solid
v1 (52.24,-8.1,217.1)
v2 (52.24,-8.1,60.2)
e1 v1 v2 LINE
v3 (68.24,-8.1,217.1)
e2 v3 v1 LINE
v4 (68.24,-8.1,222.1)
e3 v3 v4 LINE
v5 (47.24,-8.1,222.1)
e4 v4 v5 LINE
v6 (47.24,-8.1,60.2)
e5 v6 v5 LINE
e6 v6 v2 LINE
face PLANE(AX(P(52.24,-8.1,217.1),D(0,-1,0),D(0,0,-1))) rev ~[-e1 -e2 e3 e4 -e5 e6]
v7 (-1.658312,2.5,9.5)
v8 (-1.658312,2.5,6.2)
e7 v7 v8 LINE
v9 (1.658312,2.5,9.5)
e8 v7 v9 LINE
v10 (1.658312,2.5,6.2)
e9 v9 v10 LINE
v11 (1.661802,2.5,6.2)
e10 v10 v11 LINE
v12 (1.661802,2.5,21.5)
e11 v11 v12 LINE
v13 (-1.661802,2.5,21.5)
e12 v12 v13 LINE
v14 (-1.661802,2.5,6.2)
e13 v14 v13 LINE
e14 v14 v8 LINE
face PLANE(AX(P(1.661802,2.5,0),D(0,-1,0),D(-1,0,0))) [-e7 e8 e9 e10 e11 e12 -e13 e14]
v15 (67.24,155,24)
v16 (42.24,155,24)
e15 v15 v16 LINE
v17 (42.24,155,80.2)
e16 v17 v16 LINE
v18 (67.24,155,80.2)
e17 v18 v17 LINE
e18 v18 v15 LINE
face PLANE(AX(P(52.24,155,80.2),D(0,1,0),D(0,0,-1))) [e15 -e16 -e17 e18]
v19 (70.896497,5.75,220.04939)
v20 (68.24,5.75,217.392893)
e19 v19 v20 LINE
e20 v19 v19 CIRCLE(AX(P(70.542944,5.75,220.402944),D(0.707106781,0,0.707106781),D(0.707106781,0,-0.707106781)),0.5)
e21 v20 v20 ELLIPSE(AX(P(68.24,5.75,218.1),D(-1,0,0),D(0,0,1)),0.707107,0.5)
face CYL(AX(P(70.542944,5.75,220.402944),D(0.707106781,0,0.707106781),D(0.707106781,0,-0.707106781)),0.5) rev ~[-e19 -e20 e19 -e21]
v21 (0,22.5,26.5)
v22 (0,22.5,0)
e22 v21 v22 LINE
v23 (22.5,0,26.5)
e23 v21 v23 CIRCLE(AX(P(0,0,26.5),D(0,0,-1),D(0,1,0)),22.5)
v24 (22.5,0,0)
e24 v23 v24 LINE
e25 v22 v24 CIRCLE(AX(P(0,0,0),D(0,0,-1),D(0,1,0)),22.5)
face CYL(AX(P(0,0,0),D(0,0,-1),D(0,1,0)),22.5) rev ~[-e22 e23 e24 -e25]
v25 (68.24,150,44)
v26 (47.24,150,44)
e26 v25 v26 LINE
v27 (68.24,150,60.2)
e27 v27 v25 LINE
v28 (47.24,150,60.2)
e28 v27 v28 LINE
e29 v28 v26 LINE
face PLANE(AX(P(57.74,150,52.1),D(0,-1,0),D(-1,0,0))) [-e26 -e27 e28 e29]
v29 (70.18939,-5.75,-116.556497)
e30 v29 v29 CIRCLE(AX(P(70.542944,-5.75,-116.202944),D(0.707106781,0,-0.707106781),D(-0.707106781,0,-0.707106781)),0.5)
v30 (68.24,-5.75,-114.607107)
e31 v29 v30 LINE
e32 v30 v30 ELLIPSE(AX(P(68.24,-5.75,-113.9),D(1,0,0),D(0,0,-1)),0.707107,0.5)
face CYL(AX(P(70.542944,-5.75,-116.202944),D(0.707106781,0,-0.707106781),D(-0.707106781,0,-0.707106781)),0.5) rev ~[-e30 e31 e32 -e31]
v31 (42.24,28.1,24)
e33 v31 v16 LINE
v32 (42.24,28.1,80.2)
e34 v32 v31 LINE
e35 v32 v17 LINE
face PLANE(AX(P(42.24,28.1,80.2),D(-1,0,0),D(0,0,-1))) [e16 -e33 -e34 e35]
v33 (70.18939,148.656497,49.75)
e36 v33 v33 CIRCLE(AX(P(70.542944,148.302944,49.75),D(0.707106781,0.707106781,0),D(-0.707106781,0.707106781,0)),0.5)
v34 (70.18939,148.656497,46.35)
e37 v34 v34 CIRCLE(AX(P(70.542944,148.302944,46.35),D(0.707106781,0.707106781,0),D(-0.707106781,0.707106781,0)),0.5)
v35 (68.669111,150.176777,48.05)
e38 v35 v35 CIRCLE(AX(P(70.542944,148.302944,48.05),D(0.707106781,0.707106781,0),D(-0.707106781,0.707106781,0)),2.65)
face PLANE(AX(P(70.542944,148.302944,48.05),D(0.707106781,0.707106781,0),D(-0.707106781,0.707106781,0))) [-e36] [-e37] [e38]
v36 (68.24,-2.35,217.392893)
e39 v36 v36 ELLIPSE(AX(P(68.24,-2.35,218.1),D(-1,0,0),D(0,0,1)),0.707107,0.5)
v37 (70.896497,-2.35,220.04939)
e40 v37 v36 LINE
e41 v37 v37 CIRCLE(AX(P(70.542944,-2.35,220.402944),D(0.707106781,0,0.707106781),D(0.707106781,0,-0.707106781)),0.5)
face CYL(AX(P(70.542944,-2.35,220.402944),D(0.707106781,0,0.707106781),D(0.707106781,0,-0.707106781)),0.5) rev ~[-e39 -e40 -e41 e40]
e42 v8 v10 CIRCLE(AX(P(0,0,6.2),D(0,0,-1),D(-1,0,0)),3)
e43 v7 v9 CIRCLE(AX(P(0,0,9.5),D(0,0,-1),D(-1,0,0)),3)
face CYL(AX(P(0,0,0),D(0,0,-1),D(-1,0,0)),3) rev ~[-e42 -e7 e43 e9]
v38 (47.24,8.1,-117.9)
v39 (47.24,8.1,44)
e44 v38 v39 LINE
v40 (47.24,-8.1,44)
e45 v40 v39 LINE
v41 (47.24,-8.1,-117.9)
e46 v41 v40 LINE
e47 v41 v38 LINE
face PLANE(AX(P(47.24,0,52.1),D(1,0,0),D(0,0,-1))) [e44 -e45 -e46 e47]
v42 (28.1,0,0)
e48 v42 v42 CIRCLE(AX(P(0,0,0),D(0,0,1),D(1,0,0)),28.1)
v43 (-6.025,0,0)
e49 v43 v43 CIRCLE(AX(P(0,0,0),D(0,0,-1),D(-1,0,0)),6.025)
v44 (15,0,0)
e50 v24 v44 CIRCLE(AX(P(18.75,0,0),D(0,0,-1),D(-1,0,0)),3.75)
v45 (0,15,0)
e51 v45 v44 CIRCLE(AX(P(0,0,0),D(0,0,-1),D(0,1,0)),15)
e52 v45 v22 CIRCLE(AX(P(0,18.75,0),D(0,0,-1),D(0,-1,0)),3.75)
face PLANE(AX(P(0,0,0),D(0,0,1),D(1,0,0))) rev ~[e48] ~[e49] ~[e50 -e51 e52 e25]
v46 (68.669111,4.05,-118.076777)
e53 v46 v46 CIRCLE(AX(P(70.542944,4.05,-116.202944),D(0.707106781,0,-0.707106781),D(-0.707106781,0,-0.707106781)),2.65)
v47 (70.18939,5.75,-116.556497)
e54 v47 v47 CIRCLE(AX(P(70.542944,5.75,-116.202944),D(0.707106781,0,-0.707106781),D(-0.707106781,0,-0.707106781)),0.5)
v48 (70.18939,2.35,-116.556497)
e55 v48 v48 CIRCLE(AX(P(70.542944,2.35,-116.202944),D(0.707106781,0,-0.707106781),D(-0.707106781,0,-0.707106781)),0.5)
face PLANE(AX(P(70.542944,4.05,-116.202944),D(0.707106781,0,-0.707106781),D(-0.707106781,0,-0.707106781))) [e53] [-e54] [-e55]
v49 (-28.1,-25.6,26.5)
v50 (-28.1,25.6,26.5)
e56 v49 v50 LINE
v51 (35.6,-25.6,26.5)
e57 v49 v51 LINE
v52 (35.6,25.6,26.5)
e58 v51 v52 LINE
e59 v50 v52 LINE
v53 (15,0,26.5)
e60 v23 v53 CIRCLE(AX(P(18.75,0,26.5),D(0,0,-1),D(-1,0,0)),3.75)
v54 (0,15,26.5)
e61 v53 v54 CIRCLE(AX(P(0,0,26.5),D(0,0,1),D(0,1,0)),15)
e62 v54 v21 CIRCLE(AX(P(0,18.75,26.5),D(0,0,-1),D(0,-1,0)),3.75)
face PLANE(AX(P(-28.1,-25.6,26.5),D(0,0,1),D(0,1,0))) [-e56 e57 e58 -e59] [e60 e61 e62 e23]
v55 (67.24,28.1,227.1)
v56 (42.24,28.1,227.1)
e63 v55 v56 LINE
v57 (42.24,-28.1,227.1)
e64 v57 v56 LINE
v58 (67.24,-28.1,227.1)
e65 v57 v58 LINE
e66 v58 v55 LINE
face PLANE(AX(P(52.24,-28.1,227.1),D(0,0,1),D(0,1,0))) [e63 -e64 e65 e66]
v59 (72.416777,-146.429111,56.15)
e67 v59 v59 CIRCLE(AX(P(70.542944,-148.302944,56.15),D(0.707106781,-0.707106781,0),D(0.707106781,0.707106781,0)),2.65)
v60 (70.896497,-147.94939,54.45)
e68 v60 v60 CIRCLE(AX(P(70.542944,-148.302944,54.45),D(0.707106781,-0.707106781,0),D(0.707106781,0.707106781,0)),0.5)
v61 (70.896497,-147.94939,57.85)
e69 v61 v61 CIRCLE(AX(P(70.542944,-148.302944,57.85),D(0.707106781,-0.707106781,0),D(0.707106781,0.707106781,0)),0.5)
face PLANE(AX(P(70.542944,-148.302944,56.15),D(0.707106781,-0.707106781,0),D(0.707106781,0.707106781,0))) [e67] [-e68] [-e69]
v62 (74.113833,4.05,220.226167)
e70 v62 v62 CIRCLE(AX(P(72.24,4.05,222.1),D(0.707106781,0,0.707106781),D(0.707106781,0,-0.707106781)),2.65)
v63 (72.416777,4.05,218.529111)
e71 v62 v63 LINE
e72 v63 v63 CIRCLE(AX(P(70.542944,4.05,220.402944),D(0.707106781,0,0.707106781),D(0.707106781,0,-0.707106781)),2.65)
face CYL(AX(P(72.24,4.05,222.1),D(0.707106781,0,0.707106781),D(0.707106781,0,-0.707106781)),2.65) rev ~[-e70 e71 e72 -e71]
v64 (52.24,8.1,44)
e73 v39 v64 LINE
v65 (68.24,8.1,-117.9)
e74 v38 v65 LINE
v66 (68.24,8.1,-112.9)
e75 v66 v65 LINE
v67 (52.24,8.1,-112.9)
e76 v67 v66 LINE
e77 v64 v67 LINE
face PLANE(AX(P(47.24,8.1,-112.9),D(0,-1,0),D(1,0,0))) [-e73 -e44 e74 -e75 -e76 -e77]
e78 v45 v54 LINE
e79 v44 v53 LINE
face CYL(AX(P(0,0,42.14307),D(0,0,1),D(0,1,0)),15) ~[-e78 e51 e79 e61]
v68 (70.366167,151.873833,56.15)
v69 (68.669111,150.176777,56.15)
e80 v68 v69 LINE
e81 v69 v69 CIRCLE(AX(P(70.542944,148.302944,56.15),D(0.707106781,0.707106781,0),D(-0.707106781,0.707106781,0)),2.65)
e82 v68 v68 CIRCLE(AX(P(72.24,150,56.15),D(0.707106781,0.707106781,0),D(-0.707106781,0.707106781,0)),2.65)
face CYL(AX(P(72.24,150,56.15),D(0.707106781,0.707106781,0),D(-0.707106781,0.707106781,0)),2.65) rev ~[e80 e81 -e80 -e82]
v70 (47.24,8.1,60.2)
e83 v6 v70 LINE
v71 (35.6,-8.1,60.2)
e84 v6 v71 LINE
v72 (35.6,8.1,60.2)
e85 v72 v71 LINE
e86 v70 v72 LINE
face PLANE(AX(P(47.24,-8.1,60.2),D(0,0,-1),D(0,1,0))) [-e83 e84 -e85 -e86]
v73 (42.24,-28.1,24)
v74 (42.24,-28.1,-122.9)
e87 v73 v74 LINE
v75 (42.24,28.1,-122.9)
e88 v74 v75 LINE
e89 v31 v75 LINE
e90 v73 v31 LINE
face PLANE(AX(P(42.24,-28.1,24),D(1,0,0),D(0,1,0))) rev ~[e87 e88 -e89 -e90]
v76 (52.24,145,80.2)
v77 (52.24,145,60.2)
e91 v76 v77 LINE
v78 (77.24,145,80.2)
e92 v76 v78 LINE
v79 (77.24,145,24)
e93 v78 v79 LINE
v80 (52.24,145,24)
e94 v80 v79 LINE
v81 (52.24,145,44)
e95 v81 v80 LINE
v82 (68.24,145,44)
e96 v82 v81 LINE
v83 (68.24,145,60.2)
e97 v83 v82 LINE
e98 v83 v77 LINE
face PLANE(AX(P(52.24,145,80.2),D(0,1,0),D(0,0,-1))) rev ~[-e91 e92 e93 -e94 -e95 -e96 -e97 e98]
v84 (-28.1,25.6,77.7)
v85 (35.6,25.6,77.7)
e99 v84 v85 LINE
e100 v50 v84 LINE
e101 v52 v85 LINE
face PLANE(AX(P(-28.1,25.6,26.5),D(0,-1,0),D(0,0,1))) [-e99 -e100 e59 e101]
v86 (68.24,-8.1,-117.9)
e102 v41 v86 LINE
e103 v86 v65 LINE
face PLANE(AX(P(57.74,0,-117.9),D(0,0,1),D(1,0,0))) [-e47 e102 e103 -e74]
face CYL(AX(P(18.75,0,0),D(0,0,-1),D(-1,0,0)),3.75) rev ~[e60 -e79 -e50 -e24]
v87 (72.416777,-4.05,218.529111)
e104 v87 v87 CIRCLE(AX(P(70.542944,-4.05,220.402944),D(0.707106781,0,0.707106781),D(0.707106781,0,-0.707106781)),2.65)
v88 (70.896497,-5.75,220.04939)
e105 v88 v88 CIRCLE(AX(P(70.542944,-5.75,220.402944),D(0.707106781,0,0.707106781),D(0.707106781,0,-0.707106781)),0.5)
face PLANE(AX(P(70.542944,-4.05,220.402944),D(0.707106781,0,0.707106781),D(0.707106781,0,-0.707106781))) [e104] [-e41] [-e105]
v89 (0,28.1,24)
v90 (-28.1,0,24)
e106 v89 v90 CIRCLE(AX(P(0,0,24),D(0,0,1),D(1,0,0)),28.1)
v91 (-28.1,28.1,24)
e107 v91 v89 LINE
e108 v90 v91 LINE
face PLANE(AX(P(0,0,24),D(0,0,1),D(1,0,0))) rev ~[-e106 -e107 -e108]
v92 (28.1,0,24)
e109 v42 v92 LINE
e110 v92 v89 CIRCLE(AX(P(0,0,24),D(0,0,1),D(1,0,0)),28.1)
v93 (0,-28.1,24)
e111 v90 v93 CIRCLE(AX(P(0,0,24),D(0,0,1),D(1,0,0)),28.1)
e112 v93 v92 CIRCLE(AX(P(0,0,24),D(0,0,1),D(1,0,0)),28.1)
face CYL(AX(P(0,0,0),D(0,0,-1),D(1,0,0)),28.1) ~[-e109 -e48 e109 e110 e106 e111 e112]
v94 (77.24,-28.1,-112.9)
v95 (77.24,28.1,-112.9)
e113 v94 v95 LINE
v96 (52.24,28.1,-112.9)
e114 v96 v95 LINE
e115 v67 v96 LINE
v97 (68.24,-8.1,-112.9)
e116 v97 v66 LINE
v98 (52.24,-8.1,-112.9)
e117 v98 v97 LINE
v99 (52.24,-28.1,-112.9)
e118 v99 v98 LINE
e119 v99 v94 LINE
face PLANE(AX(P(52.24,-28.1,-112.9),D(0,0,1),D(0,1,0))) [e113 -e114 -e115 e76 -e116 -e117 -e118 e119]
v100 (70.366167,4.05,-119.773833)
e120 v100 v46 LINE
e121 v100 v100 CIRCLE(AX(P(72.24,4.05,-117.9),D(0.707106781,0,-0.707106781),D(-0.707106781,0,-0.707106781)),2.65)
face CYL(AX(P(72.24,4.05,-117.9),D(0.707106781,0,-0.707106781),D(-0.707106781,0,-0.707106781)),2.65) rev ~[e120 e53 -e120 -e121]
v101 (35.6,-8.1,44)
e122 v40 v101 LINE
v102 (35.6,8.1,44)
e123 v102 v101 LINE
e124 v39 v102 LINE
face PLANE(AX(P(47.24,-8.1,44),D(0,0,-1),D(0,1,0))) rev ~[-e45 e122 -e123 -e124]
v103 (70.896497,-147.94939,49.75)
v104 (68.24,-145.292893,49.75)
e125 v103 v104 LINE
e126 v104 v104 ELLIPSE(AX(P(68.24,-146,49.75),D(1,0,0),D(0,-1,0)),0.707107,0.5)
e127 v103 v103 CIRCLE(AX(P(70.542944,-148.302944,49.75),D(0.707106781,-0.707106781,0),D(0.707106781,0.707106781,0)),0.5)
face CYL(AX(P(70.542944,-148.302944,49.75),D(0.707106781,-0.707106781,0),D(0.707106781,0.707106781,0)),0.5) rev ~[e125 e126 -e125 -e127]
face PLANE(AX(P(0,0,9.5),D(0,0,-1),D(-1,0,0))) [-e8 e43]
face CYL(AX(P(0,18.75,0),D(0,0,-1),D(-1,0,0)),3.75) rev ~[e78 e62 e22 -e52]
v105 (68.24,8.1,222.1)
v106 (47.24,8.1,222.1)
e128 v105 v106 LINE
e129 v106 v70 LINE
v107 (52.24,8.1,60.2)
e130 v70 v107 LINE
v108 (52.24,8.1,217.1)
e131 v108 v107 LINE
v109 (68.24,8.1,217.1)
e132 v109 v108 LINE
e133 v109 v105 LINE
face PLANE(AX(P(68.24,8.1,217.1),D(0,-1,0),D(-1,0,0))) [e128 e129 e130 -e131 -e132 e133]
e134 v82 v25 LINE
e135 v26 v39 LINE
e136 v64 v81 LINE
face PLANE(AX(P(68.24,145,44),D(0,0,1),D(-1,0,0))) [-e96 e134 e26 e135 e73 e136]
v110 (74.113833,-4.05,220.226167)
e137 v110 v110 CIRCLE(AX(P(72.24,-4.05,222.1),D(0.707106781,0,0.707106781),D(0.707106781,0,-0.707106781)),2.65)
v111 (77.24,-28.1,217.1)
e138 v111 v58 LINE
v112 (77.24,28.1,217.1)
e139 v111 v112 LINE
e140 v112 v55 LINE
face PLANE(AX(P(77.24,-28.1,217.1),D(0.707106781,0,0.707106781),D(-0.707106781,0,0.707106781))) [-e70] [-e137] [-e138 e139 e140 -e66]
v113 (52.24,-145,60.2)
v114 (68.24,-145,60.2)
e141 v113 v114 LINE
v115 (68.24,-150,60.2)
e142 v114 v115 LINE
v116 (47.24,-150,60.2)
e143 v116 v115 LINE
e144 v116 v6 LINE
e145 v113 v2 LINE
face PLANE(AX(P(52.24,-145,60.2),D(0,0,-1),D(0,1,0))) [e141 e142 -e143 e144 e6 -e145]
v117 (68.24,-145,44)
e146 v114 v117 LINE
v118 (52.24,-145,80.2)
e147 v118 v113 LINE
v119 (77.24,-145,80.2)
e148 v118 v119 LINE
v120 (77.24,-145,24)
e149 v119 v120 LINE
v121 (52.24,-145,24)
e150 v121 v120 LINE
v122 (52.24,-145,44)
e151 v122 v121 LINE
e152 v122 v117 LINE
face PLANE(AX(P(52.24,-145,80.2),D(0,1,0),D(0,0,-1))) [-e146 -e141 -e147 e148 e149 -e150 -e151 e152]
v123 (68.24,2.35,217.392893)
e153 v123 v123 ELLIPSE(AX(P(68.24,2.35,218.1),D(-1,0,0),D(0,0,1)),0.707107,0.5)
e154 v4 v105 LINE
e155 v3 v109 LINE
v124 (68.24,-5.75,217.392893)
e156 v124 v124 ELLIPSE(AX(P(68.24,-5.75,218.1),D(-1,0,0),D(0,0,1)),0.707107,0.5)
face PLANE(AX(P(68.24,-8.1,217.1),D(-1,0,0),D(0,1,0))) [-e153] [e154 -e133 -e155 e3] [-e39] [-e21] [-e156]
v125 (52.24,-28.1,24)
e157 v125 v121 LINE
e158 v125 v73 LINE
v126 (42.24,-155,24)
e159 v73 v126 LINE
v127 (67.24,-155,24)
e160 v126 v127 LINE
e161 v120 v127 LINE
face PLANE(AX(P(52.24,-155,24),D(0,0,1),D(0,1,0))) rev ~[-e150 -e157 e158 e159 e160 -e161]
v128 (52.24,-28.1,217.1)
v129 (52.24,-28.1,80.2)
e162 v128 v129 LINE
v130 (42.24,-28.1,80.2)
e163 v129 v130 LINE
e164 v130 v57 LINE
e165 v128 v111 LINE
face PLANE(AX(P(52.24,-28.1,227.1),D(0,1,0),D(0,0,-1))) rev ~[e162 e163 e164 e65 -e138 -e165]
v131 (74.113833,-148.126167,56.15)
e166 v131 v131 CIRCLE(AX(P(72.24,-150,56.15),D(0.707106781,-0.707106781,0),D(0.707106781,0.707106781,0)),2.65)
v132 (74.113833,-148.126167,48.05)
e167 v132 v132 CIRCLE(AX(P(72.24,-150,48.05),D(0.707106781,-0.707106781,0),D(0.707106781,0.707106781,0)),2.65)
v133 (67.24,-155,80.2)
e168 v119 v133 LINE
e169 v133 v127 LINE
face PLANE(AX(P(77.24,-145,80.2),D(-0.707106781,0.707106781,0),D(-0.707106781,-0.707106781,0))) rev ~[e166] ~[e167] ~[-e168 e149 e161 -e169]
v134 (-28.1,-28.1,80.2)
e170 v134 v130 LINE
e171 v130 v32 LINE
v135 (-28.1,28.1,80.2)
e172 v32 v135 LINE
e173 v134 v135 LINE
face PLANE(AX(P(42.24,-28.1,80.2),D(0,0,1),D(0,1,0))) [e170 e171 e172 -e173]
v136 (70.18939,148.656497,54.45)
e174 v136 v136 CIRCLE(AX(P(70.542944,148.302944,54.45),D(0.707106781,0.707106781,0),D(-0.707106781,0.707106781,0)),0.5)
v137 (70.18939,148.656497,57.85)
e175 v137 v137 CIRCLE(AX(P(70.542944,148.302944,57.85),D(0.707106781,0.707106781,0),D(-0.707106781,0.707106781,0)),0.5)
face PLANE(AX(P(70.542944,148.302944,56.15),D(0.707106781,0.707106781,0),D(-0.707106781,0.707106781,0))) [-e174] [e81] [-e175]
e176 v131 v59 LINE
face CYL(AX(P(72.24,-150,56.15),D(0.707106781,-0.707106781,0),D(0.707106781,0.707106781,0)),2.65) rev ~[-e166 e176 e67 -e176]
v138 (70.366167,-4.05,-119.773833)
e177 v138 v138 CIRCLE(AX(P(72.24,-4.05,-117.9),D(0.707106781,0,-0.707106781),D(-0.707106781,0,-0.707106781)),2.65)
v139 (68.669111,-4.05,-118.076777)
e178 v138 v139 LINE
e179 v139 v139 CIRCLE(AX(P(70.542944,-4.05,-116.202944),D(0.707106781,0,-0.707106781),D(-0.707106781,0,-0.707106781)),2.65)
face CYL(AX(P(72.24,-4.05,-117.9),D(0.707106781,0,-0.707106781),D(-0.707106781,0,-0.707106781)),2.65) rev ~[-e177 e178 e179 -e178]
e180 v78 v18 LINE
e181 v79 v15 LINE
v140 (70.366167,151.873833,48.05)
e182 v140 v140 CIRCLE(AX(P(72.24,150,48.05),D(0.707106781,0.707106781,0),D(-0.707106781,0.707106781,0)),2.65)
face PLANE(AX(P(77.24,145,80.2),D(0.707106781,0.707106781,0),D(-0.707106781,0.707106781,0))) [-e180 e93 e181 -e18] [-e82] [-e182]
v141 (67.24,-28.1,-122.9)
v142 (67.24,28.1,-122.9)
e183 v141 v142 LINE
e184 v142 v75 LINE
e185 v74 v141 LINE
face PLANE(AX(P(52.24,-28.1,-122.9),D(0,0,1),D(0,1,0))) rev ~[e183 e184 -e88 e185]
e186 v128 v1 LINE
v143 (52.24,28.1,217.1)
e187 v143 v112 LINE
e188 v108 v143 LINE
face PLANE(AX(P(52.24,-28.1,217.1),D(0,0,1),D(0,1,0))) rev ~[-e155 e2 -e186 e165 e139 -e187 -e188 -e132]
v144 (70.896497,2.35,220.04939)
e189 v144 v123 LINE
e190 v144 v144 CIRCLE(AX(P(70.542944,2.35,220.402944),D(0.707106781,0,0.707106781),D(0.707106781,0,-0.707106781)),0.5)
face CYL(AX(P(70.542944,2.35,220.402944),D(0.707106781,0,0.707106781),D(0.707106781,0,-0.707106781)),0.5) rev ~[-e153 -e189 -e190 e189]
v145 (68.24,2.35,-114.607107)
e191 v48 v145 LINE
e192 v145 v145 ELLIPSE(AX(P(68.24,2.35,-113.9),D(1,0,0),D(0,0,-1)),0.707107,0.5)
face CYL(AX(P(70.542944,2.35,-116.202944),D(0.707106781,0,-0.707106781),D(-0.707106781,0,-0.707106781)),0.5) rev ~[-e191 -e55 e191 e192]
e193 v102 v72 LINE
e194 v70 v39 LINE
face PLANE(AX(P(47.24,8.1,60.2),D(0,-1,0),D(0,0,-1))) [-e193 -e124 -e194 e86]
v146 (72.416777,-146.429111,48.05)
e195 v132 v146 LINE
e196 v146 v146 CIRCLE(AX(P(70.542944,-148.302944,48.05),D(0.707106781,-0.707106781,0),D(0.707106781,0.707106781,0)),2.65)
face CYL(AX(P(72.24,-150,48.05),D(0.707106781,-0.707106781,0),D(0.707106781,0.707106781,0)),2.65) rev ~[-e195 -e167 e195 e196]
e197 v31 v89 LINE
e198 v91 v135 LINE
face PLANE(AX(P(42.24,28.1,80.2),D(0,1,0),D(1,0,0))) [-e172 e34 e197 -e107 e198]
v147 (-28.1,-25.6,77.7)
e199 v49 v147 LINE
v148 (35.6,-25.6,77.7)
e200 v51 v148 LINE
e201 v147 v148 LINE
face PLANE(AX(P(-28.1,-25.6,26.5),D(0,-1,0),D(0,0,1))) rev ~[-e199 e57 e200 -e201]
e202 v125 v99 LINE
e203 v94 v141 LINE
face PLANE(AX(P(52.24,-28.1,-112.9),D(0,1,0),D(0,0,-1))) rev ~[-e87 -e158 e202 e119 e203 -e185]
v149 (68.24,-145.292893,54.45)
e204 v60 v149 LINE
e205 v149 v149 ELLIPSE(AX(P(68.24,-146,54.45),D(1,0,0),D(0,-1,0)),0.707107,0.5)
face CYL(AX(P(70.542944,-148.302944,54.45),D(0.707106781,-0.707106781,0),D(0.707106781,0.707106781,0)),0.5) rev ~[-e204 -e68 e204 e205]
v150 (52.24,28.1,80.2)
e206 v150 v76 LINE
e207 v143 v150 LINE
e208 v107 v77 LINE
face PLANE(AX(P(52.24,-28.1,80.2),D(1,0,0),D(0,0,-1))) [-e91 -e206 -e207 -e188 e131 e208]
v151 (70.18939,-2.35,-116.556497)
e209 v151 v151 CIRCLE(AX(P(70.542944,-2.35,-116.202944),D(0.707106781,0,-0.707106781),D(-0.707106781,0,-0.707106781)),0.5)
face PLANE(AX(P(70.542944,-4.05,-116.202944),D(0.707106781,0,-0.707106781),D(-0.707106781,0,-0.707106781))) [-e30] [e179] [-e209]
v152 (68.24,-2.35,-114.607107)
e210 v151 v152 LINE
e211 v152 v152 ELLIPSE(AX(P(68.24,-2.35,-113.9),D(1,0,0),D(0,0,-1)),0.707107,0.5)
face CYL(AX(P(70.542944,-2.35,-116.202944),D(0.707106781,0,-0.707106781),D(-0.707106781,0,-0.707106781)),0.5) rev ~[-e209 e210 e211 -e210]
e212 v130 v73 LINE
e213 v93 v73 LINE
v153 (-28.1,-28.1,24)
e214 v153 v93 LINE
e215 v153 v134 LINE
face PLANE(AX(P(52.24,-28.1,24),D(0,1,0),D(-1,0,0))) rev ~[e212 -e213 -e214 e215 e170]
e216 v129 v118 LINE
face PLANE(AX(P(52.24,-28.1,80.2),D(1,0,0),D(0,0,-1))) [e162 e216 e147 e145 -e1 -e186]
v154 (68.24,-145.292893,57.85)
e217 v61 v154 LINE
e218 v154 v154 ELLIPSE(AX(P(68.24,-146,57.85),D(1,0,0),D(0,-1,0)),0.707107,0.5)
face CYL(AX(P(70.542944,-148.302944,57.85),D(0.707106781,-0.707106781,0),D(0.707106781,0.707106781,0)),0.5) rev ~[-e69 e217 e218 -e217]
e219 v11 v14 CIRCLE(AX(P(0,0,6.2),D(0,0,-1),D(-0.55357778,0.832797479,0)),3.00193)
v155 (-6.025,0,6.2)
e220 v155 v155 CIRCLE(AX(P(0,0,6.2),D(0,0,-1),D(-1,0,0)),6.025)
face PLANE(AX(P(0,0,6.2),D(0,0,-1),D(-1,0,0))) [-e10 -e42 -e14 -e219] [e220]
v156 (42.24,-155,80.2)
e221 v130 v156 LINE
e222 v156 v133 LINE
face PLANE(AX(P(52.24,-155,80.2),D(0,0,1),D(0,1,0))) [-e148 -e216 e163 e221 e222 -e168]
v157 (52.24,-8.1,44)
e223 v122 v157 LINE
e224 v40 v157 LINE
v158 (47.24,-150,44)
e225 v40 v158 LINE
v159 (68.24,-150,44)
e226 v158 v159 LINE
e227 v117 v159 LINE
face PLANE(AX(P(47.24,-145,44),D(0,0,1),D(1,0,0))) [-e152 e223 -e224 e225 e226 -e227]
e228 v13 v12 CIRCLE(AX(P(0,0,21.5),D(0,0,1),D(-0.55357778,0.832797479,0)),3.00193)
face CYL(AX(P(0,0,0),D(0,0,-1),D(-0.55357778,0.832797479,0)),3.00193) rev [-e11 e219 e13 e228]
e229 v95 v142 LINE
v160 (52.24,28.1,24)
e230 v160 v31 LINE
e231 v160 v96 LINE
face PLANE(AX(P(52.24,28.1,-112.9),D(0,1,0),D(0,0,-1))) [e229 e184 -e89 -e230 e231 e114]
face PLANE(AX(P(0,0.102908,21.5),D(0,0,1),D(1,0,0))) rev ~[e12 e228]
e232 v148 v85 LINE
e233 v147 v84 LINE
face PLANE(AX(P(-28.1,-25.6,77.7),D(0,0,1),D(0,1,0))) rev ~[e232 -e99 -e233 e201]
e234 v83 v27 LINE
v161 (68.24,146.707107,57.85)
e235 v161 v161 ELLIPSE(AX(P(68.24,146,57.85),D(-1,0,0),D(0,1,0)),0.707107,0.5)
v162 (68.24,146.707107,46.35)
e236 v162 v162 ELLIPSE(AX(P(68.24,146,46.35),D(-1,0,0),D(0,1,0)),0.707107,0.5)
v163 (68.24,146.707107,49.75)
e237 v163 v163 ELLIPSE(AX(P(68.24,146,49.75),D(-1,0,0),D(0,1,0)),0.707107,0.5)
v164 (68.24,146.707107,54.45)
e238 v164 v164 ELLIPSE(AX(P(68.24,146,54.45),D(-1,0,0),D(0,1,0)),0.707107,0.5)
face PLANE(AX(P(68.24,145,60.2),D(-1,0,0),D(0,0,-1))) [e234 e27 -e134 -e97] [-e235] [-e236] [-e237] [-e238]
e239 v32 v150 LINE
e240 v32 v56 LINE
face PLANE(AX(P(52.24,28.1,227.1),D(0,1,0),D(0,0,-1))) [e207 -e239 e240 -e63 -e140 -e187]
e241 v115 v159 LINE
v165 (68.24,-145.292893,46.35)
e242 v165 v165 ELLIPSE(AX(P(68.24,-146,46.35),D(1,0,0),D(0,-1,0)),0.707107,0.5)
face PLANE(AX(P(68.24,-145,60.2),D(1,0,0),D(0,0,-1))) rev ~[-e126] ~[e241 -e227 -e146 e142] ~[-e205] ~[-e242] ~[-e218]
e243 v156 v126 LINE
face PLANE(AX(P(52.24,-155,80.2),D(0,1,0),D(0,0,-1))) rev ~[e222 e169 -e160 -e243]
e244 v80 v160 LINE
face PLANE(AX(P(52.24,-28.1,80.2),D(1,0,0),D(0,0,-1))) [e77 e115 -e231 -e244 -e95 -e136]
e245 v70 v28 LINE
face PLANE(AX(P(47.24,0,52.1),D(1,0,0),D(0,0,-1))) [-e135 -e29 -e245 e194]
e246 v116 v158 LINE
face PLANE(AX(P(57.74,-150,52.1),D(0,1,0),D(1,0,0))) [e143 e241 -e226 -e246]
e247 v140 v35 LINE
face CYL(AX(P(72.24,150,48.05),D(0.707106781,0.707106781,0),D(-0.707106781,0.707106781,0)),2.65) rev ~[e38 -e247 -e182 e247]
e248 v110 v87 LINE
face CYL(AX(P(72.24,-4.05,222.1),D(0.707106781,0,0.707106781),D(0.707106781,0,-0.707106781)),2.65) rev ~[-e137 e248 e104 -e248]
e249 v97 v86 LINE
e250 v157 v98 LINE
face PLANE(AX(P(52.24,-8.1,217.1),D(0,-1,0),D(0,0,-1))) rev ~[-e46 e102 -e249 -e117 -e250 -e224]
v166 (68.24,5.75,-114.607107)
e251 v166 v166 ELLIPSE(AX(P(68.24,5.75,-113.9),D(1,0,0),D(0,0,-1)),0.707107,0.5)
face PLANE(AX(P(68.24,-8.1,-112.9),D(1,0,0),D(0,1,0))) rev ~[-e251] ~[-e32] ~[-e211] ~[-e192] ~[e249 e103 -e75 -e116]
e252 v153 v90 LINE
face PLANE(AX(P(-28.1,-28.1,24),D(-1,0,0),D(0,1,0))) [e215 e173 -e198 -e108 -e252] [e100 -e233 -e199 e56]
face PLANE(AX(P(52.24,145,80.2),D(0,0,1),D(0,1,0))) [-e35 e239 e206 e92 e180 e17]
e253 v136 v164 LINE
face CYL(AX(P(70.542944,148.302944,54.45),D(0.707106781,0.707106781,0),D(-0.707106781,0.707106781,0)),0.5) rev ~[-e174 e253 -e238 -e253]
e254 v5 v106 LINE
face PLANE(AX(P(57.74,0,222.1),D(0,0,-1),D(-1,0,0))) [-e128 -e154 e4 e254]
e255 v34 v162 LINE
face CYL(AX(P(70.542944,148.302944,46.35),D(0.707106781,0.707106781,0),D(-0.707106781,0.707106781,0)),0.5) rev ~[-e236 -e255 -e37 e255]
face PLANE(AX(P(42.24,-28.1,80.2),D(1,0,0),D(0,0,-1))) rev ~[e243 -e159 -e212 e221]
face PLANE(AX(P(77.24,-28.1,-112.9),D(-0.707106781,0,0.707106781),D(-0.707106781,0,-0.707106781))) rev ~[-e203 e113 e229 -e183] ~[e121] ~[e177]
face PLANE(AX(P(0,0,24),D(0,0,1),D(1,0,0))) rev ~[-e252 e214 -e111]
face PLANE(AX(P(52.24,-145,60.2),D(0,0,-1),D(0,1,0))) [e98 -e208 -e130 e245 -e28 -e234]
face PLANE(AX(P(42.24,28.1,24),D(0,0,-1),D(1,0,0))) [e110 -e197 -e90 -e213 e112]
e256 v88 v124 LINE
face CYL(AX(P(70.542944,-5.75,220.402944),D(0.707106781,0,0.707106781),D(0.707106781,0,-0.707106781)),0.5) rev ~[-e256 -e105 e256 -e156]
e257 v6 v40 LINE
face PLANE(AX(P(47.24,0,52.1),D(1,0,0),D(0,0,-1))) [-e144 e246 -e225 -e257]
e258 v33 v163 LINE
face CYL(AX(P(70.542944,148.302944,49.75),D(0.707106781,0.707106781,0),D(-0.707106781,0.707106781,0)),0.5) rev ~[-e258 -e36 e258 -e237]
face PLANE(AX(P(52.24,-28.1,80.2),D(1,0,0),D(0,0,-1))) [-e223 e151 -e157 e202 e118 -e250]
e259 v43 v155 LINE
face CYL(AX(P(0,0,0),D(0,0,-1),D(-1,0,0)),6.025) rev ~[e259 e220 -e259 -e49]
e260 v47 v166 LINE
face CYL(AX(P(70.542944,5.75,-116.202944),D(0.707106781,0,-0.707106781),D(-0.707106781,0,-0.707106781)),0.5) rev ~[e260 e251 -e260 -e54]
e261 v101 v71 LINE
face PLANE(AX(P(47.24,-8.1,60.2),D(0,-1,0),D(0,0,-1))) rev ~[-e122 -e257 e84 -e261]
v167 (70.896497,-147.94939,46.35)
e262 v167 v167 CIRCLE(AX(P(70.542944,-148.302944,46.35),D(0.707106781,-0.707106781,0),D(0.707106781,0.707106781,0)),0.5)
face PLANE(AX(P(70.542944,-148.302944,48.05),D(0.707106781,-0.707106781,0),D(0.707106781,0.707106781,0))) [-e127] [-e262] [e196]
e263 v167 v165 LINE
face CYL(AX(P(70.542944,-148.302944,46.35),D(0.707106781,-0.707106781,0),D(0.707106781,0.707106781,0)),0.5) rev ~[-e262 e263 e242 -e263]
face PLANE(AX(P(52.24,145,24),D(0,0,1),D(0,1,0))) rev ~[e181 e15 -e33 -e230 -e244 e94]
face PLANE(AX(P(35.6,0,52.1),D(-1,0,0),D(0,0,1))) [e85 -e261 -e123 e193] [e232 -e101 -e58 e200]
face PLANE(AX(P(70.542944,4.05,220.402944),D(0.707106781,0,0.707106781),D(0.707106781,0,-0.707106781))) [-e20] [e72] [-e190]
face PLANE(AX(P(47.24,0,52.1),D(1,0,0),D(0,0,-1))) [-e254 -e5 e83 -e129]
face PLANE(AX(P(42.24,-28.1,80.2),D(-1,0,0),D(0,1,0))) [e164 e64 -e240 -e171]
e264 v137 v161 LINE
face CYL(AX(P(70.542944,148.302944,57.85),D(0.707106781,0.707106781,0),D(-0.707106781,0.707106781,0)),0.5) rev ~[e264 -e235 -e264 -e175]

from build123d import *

# Parameters (mm, degrees)
SKETCH1_R            = 28.1
BOSS_EXTRUDE2_DEPTH  = 24
CUT_EXTRUDE2_DEPTH   = 21.5
SKETCH4_R            = 3
CUT_EXTRUDE3_DEPTH   = 9.5
SKETCH6_R            = 6.025
CUT_EXTRUDE4_DEPTH   = 6.2
SKETCH7_W            = 56.2
SKETCH7_H            = 56.2
BOSS_EXTRUDE3_DEPTH  = 56.2
SKETCH8_W            = 56.2
SKETCH8_H            = 56.2
BOSS_EXTRUDE4_DEPTH  = 14.14
SKETCH10_W           = 56.2
SKETCH10_H           = 56.2
BOSS_EXTRUDE5_DEPTH  = 10
SKETCH11_W           = 10
SKETCH11_H           = 56.2
BOSS_EXTRUDE6_DEPTH  = 146.9
SKETCH12_W           = 10
SKETCH12_H           = 56.2
BOSS_EXTRUDE7_DEPTH  = 126.9
SKETCH13_W           = 10
SKETCH13_H           = 56.2
BOSS_EXTRUDE8_DEPTH  = 146.9
SKETCH14_W           = 10
SKETCH14_H           = 56.2
BOSS_EXTRUDE9_DEPTH  = 126.9
SKETCH15_W           = 10
SKETCH15_H           = 56.2
BOSS_EXTRUDE10_DEPTH = 25
SKETCH16_W           = 10
SKETCH16_H           = 56.2
BOSS_EXTRUDE11_DEPTH = 25
SKETCH17_W           = 56.2
SKETCH17_H           = 10
BOSS_EXTRUDE12_DEPTH = 25
SKETCH18_W           = 56.2
SKETCH18_H           = 10
BOSS_EXTRUDE13_DEPTH = 25
SKETCH19_W           = 51.2
SKETCH19_H           = 51.2
CUT_EXTRUDE5_DEPTH   = 63.7
SKETCH23_W           = 330
SKETCH23_H           = 16.2
CUT_EXTRUDE7_DEPTH   = 5
SKETCH24_W           = 16.2
SKETCH24_H           = 290
CUT_EXTRUDE8_DEPTH   = 5
SKETCH25_W           = 16.2
SKETCH25_H           = 16.2
CUT_EXTRUDE12_DEPTH  = 25
CUT_EXTRUDE13_DEPTH  = 56.2
CUT_EXTRUDE14_DEPTH  = 56.2
SKETCH28_W           = 21
SKETCH28_H           = 16.2
CUT_EXTRUDE15_DEPTH  = 5
SKETCH29_W           = 21
SKETCH29_H           = 16.2
CUT_EXTRUDE16_DEPTH  = 5
SKETCH30_W           = 21
SKETCH30_H           = 16.2
CUT_EXTRUDE17_DEPTH  = 5
SKETCH31_W           = 21
SKETCH31_H           = 16.2
CUT_EXTRUDE18_DEPTH  = 5
SKETCH33_R           = 2.65
CUT_EXTRUDE19_DEPTH  = 2.4
SKETCH34_R           = 0.5
CUT_EXTRUDE20_DEPTH  = 10
SKETCH35_R           = 2.65
CUT_EXTRUDE21_DEPTH  = 2.4
SKETCH36_R           = 0.5
CUT_EXTRUDE22_DEPTH  = 10
SKETCH37_R           = 2.65
CUT_EXTRUDE23_DEPTH  = 2.4
SKETCH38_R           = 0.5
CUT_EXTRUDE24_DEPTH  = 10
SKETCH39_R           = 2.65
CUT_EXTRUDE25_DEPTH  = 2.4
SKETCH40_R           = 0.5
CUT_EXTRUDE26_DEPTH  = 10
SKETCH41_R           = 3.75
CUT_EXTRUDE28_DEPTH  = 30


with BuildPart() as part:
    # Sketch1 → Boss-Extrude2 (new body)
    with BuildSketch(Plane.XY):
        Circle(SKETCH1_R)
    extrude(amount=BOSS_EXTRUDE2_DEPTH)

    # Sketch3 → Cut-Extrude2 (cut)
    with BuildSketch(Plane(origin=(0, 0, 0), x_dir=(-1, 0, 0), z_dir=(0, 0, -1))):
        with BuildLine():
            Line((-1.661801922, 2.5), (1.661801922, 2.5))
            ThreePointArc((1.661801922, 2.5), (0, -3.001930317), (-1.661801922, 2.5))
        make_face()
    extrude(amount=-CUT_EXTRUDE2_DEPTH, mode=Mode.SUBTRACT)

    # Sketch4 → Cut-Extrude3 (cut)
    with BuildSketch(Plane(origin=(0, 0, 0), x_dir=(-1, 0, 0), z_dir=(0, 0, -1))):
        Circle(SKETCH4_R)
    extrude(amount=-CUT_EXTRUDE3_DEPTH, mode=Mode.SUBTRACT)

    # Sketch6 → Cut-Extrude4 (cut)
    with BuildSketch(Plane(origin=(0, 0, 0), x_dir=(-1, 0, 0), z_dir=(0, 0, -1))):
        Circle(SKETCH6_R)
    extrude(amount=-CUT_EXTRUDE4_DEPTH, mode=Mode.SUBTRACT)

    # Sketch7 → Boss-Extrude3 (add)
    with BuildSketch(Plane.XY.offset(24)):
        Rectangle(SKETCH7_W, SKETCH7_H)
    extrude(amount=BOSS_EXTRUDE3_DEPTH)

    # Sketch8 → Boss-Extrude4 (add)
    with BuildSketch(Plane(origin=(28.1, 0, 0), x_dir=(0, 0, -1), z_dir=(1, 0, 0))):
        with Locations((-52.1, 0)):
            Rectangle(SKETCH8_W, SKETCH8_H)
    extrude(amount=BOSS_EXTRUDE4_DEPTH)

    # Sketch10 → Boss-Extrude5 (add)
    with BuildSketch(Plane(origin=(42.24, 0, 0), x_dir=(0, 0, -1), z_dir=(1, 0, 0))):
        with Locations((-52.1, 0)):
            Rectangle(SKETCH10_W, SKETCH10_H)
    extrude(amount=BOSS_EXTRUDE5_DEPTH)

    # Sketch11 → Boss-Extrude6 (add)
    with BuildSketch(Plane.XY.offset(80.2)):
        with Locations((47.24, 0)):
            Rectangle(SKETCH11_W, SKETCH11_H)
    extrude(amount=BOSS_EXTRUDE6_DEPTH)

    # Sketch12 → Boss-Extrude7 (add)
    with BuildSketch(Plane(origin=(0, 28.1, 0), x_dir=(1, 0, 0), z_dir=(0, 1, 0))):
        with Locations((47.24, -52.1)):
            Rectangle(SKETCH12_W, SKETCH12_H)
    extrude(amount=BOSS_EXTRUDE7_DEPTH)

    # Sketch13 → Boss-Extrude8 (add)
    with BuildSketch(Plane(origin=(0, 0, 24), x_dir=(-1, 0, 0), z_dir=(0, 0, -1))):
        with Locations((-47.24, 0)):
            Rectangle(SKETCH13_W, SKETCH13_H)
    extrude(amount=BOSS_EXTRUDE8_DEPTH)

    # Sketch14 → Boss-Extrude9 (add)
    with BuildSketch(Plane(origin=(0, -28.1, 0), x_dir=(-1, 0, 0), z_dir=(0, -1, 0))):
        with Locations((-47.24, -52.1)):
            Rectangle(SKETCH14_W, SKETCH14_H)
    extrude(amount=BOSS_EXTRUDE9_DEPTH)

    # Sketch15 → Boss-Extrude10 (add)
    with BuildSketch(Plane(origin=(52.24, 0, 0), x_dir=(0, 0, -1), z_dir=(1, 0, 0))):
        with Locations((-222.1, 0)):
            Rectangle(SKETCH15_W, SKETCH15_H)
    extrude(amount=BOSS_EXTRUDE10_DEPTH)

    # Sketch16 → Boss-Extrude11 (add)
    with BuildSketch(Plane(origin=(52.24, 0, 0), x_dir=(0, 0, -1), z_dir=(1, 0, 0))):
        with Locations((117.9, 0)):
            Rectangle(SKETCH16_W, SKETCH16_H)
    extrude(amount=BOSS_EXTRUDE11_DEPTH)

    # Sketch17 → Boss-Extrude12 (add)
    with BuildSketch(Plane(origin=(52.24, 0, 0), x_dir=(0, 0, -1), z_dir=(1, 0, 0))):
        with Locations((-52.1, 150)):
            Rectangle(SKETCH17_W, SKETCH17_H)
    extrude(amount=BOSS_EXTRUDE12_DEPTH)

    # Sketch18 → Boss-Extrude13 (add)
    with BuildSketch(Plane(origin=(52.24, 0, 0), x_dir=(0, 0, -1), z_dir=(1, 0, 0))):
        with Locations((-52.1, -150)):
            Rectangle(SKETCH18_W, SKETCH18_H)
    extrude(amount=BOSS_EXTRUDE13_DEPTH)

    # Sketch19 → Cut-Extrude5 (cut)
    with BuildSketch(Plane.ZY.offset(28.1)):
        with Locations((52.1, 0)):
            Rectangle(SKETCH19_W, SKETCH19_H)
    extrude(amount=-CUT_EXTRUDE5_DEPTH, mode=Mode.SUBTRACT)

    # Cut-Sweep2: sweep along a path in Sketch20
    with BuildLine(Plane(origin=(0, 0, 0), x_dir=(-1, 0, 0), z_dir=(0, 0, -1))) as cut_sweep2_path:
        ThreePointArc((0, 15), (-10.606601718, 10.606601718), (-15, 0))
    # 3DSketch2 → Cut-Sweep2 (sweep, cut)
    with BuildSketch(Plane(origin=(0, 15, 0), x_dir=(0, 0.17521220324553322, 0.9845306921746249), z_dir=(-1, 0, 0))):
        Polygon((0, 0), (1.314091524, 7.383980191), (42.805237655, 0), (41.491146131, -7.383980191), align=None)
    sweep(path=cut_sweep2_path.line, mode=Mode.SUBTRACT)

    # Sketch23 → Cut-Extrude7 (cut)
    with BuildSketch(Plane(origin=(52.24, 0, 0), x_dir=(0, 0, -1), z_dir=(1, 0, 0))):
        with Locations((-52.1, 0)):
            Rectangle(SKETCH23_W, SKETCH23_H)
    extrude(amount=-CUT_EXTRUDE7_DEPTH, mode=Mode.SUBTRACT)

    # Sketch24 → Cut-Extrude8 (cut)
    with BuildSketch(Plane(origin=(52.24, 0, 0), x_dir=(0, 0, -1), z_dir=(1, 0, 0))):
        with Locations((-52.1, 0)):
            Rectangle(SKETCH24_W, SKETCH24_H)
    extrude(amount=-CUT_EXTRUDE8_DEPTH, mode=Mode.SUBTRACT)

    # Sketch25 → Cut-Extrude12 (cut)
    with BuildSketch(Plane(origin=(47.24, 0, 0), x_dir=(0, 0, -1), z_dir=(1, 0, 0))):
        with Locations((-52.1, 0)):
            Rectangle(SKETCH25_W, SKETCH25_H)
    extrude(amount=-CUT_EXTRUDE12_DEPTH, mode=Mode.SUBTRACT)

    # Sketch26 → Cut-Extrude13 (cut)
    with BuildSketch(Plane(origin=(0, -28.1, 0), x_dir=(-1, 0, 0), z_dir=(0, -1, 0))):
        Polygon((-77.24, -217.1), (-67.24, -227.1), (-77.24, -227.1), align=None)
        Polygon((-77.24, 112.9), (-67.24, 122.9), (-77.24, 122.9), align=None)
    extrude(amount=-CUT_EXTRUDE13_DEPTH, mode=Mode.SUBTRACT)

    # Sketch27 → Cut-Extrude14 (cut)
    with BuildSketch(Plane.XY.offset(80.2)):
        Polygon((77.24, -145), (67.24, -155), (77.24, -155), align=None)
        Polygon((77.24, 145), (67.24, 155), (77.24, 155), align=None)
    extrude(amount=-CUT_EXTRUDE14_DEPTH, mode=Mode.SUBTRACT)

    # Sketch28 → Cut-Extrude15 (cut)
    with BuildSketch(Plane(origin=(0, -145, 0), x_dir=(1, 0, 0), z_dir=(0, 1, 0))):
        with Locations((57.74, -52.1)):
            Rectangle(SKETCH28_W, SKETCH28_H)
    extrude(amount=-CUT_EXTRUDE15_DEPTH, mode=Mode.SUBTRACT)

    # Sketch29 → Cut-Extrude16 (cut)
    with BuildSketch(Plane(origin=(0, 145, 0), x_dir=(-1, 0, 0), z_dir=(0, -1, 0))):
        with Locations((-57.74, -52.1)):
            Rectangle(SKETCH29_W, SKETCH29_H)
    extrude(amount=-CUT_EXTRUDE16_DEPTH, mode=Mode.SUBTRACT)

    # Sketch30 → Cut-Extrude17 (cut)
    with BuildSketch(Plane(origin=(0, 0, 217.1), x_dir=(-1, 0, 0), z_dir=(0, 0, -1))):
        with Locations((-57.74, 0)):
            Rectangle(SKETCH30_W, SKETCH30_H)
    extrude(amount=-CUT_EXTRUDE17_DEPTH, mode=Mode.SUBTRACT)

    # Sketch31 → Cut-Extrude18 (cut)
    with BuildSketch(Plane.XY.offset(-112.9)):
        with Locations((57.74, 0)):
            Rectangle(SKETCH31_W, SKETCH31_H)
    extrude(amount=-CUT_EXTRUDE18_DEPTH, mode=Mode.SUBTRACT)

    # Sketch33 → Cut-Extrude19 (cut)
    with BuildSketch(Plane(origin=(147.17, 0, 147.17), x_dir=(0.7071067811865558, 0, -0.7071067811865392), z_dir=(0.7071067811865392, 0, 0.7071067811865558))):
        with Locations((-105.967022229, 4.05)):
            Circle(SKETCH33_R)
        with Locations((-105.967022229, -4.05)):
            Circle(SKETCH33_R)
    extrude(amount=-CUT_EXTRUDE19_DEPTH, mode=Mode.SUBTRACT)

    # Sketch34 → Cut-Extrude20 (cut)
    with BuildSketch(Plane(origin=(145.472943725, 0, 145.472943725), x_dir=(0.7071067811865559, 0, -0.7071067811865392), z_dir=(0.7071067811865392, 0, 0.7071067811865559))):
        with Locations((-105.967022229, 5.75)):
            Circle(SKETCH34_R)
        with Locations((-105.967022229, 2.35)):
            Circle(SKETCH34_R)
        with Locations((-105.967022229, -2.35)):
            Circle(SKETCH34_R)
        with Locations((-105.967022229, -5.75)):
            Circle(SKETCH34_R)
    extrude(amount=-CUT_EXTRUDE20_DEPTH, mode=Mode.SUBTRACT)

    # Sketch35 → Cut-Extrude21 (cut)
    with BuildSketch(Plane(origin=(95.07, 0, -95.07), x_dir=(-0.7071067811865392, 0, -0.7071067811865559), z_dir=(0.7071067811865559, 0, -0.7071067811865392))):
        with Locations((32.286495629, -4.05)):
            Circle(SKETCH35_R)
        with Locations((32.286495629, 4.05)):
            Circle(SKETCH35_R)
    extrude(amount=-CUT_EXTRUDE21_DEPTH, mode=Mode.SUBTRACT)

    # Sketch36 → Cut-Extrude22 (cut)
    with BuildSketch(Plane(origin=(93.372943725, 0, -93.372943725), x_dir=(-0.7071067811865392, 0, -0.7071067811865558), z_dir=(0.7071067811865558, 0, -0.7071067811865392))):
        with Locations((32.286495629, -5.75)):
            Circle(SKETCH36_R)
        with Locations((32.286495629, -2.35)):
            Circle(SKETCH36_R)
        with Locations((32.286495629, 2.35)):
            Circle(SKETCH36_R)
        with Locations((32.286495629, 5.75)):
            Circle(SKETCH36_R)
    extrude(amount=-CUT_EXTRUDE22_DEPTH, mode=Mode.SUBTRACT)

    # Sketch37 → Cut-Extrude23 (cut)
    with BuildSketch(Plane(origin=(111.12, -111.12, 0), x_dir=(0, 0, -1), z_dir=(0.707106781186554, -0.7071067811865411, 0))):
        with Locations(Location((-56.15, -54.984623305, 0), (0, 0, 90))):
            Circle(SKETCH37_R)
        with Locations(Location((-48.05, -54.984623305, 0), (0, 0, 90))):
            Circle(SKETCH37_R)
    extrude(amount=-CUT_EXTRUDE23_DEPTH, mode=Mode.SUBTRACT)

    # Sketch38 → Cut-Extrude24 (cut)
    with BuildSketch(Plane(origin=(109.422943725, -109.422943725, 0), x_dir=(0, 0, -1), z_dir=(0.7071067811865539, -0.7071067811865411, 0))):
        with Locations(Location((-57.85, -54.984623305, 0), (0, 0, 90))):
            Circle(SKETCH38_R)
        with Locations(Location((-54.45, -54.984623305, 0), (0, 0, 90))):
            Circle(SKETCH38_R)
        with Locations(Location((-49.75, -54.984623305, 0), (0, 0, 90))):
            Circle(SKETCH38_R)
        with Locations(Location((-46.35, -54.984623305, 0), (0, 0, 90))):
            Circle(SKETCH38_R)
    extrude(amount=-CUT_EXTRUDE24_DEPTH, mode=Mode.SUBTRACT)

    # Sketch39 → Cut-Extrude25 (cut)
    with BuildSketch(Plane(origin=(111.12, 111.12, 0), x_dir=(0.707106781186554, -0.7071067811865411, 0), z_dir=(0.7071067811865411, 0.707106781186554, 0))):
        with Locations(Location((-54.984623305, -48.05, 0), (0, 0, 180))):
            Circle(SKETCH39_R)
        with Locations(Location((-54.984623305, -56.15, 0), (0, 0, 180))):
            Circle(SKETCH39_R)
    extrude(amount=-CUT_EXTRUDE25_DEPTH, mode=Mode.SUBTRACT)

    # Sketch40 → Cut-Extrude26 (cut)
    with BuildSketch(Plane(origin=(109.422943725, 109.422943725, 0), x_dir=(0.7071067811865539, -0.7071067811865411, 0), z_dir=(0.7071067811865411, 0.7071067811865539, 0))):
        with Locations(Location((-54.984623305, -46.35, 0), (0, 0, 180))):
            Circle(SKETCH40_R)
        with Locations(Location((-54.984623305, -49.75, 0), (0, 0, 180))):
            Circle(SKETCH40_R)
        with Locations(Location((-54.984623305, -54.45, 0), (0, 0, 180))):
            Circle(SKETCH40_R)
        with Locations(Location((-54.984623305, -57.85, 0), (0, 0, 180))):
            Circle(SKETCH40_R)
    extrude(amount=-CUT_EXTRUDE26_DEPTH, mode=Mode.SUBTRACT)

    # Sketch41 → Cut-Extrude28 (cut)
    with BuildSketch(Plane(origin=(0, 0, 0), x_dir=(-1, 0, 0), z_dir=(0, 0, -1))):
        with Locations((0, 18.75)):
            Circle(SKETCH41_R)
        with Locations((-18.75, 0)):
            Circle(SKETCH41_R)
    extrude(amount=-CUT_EXTRUDE28_DEPTH, mode=Mode.SUBTRACT)


solid = part.part
